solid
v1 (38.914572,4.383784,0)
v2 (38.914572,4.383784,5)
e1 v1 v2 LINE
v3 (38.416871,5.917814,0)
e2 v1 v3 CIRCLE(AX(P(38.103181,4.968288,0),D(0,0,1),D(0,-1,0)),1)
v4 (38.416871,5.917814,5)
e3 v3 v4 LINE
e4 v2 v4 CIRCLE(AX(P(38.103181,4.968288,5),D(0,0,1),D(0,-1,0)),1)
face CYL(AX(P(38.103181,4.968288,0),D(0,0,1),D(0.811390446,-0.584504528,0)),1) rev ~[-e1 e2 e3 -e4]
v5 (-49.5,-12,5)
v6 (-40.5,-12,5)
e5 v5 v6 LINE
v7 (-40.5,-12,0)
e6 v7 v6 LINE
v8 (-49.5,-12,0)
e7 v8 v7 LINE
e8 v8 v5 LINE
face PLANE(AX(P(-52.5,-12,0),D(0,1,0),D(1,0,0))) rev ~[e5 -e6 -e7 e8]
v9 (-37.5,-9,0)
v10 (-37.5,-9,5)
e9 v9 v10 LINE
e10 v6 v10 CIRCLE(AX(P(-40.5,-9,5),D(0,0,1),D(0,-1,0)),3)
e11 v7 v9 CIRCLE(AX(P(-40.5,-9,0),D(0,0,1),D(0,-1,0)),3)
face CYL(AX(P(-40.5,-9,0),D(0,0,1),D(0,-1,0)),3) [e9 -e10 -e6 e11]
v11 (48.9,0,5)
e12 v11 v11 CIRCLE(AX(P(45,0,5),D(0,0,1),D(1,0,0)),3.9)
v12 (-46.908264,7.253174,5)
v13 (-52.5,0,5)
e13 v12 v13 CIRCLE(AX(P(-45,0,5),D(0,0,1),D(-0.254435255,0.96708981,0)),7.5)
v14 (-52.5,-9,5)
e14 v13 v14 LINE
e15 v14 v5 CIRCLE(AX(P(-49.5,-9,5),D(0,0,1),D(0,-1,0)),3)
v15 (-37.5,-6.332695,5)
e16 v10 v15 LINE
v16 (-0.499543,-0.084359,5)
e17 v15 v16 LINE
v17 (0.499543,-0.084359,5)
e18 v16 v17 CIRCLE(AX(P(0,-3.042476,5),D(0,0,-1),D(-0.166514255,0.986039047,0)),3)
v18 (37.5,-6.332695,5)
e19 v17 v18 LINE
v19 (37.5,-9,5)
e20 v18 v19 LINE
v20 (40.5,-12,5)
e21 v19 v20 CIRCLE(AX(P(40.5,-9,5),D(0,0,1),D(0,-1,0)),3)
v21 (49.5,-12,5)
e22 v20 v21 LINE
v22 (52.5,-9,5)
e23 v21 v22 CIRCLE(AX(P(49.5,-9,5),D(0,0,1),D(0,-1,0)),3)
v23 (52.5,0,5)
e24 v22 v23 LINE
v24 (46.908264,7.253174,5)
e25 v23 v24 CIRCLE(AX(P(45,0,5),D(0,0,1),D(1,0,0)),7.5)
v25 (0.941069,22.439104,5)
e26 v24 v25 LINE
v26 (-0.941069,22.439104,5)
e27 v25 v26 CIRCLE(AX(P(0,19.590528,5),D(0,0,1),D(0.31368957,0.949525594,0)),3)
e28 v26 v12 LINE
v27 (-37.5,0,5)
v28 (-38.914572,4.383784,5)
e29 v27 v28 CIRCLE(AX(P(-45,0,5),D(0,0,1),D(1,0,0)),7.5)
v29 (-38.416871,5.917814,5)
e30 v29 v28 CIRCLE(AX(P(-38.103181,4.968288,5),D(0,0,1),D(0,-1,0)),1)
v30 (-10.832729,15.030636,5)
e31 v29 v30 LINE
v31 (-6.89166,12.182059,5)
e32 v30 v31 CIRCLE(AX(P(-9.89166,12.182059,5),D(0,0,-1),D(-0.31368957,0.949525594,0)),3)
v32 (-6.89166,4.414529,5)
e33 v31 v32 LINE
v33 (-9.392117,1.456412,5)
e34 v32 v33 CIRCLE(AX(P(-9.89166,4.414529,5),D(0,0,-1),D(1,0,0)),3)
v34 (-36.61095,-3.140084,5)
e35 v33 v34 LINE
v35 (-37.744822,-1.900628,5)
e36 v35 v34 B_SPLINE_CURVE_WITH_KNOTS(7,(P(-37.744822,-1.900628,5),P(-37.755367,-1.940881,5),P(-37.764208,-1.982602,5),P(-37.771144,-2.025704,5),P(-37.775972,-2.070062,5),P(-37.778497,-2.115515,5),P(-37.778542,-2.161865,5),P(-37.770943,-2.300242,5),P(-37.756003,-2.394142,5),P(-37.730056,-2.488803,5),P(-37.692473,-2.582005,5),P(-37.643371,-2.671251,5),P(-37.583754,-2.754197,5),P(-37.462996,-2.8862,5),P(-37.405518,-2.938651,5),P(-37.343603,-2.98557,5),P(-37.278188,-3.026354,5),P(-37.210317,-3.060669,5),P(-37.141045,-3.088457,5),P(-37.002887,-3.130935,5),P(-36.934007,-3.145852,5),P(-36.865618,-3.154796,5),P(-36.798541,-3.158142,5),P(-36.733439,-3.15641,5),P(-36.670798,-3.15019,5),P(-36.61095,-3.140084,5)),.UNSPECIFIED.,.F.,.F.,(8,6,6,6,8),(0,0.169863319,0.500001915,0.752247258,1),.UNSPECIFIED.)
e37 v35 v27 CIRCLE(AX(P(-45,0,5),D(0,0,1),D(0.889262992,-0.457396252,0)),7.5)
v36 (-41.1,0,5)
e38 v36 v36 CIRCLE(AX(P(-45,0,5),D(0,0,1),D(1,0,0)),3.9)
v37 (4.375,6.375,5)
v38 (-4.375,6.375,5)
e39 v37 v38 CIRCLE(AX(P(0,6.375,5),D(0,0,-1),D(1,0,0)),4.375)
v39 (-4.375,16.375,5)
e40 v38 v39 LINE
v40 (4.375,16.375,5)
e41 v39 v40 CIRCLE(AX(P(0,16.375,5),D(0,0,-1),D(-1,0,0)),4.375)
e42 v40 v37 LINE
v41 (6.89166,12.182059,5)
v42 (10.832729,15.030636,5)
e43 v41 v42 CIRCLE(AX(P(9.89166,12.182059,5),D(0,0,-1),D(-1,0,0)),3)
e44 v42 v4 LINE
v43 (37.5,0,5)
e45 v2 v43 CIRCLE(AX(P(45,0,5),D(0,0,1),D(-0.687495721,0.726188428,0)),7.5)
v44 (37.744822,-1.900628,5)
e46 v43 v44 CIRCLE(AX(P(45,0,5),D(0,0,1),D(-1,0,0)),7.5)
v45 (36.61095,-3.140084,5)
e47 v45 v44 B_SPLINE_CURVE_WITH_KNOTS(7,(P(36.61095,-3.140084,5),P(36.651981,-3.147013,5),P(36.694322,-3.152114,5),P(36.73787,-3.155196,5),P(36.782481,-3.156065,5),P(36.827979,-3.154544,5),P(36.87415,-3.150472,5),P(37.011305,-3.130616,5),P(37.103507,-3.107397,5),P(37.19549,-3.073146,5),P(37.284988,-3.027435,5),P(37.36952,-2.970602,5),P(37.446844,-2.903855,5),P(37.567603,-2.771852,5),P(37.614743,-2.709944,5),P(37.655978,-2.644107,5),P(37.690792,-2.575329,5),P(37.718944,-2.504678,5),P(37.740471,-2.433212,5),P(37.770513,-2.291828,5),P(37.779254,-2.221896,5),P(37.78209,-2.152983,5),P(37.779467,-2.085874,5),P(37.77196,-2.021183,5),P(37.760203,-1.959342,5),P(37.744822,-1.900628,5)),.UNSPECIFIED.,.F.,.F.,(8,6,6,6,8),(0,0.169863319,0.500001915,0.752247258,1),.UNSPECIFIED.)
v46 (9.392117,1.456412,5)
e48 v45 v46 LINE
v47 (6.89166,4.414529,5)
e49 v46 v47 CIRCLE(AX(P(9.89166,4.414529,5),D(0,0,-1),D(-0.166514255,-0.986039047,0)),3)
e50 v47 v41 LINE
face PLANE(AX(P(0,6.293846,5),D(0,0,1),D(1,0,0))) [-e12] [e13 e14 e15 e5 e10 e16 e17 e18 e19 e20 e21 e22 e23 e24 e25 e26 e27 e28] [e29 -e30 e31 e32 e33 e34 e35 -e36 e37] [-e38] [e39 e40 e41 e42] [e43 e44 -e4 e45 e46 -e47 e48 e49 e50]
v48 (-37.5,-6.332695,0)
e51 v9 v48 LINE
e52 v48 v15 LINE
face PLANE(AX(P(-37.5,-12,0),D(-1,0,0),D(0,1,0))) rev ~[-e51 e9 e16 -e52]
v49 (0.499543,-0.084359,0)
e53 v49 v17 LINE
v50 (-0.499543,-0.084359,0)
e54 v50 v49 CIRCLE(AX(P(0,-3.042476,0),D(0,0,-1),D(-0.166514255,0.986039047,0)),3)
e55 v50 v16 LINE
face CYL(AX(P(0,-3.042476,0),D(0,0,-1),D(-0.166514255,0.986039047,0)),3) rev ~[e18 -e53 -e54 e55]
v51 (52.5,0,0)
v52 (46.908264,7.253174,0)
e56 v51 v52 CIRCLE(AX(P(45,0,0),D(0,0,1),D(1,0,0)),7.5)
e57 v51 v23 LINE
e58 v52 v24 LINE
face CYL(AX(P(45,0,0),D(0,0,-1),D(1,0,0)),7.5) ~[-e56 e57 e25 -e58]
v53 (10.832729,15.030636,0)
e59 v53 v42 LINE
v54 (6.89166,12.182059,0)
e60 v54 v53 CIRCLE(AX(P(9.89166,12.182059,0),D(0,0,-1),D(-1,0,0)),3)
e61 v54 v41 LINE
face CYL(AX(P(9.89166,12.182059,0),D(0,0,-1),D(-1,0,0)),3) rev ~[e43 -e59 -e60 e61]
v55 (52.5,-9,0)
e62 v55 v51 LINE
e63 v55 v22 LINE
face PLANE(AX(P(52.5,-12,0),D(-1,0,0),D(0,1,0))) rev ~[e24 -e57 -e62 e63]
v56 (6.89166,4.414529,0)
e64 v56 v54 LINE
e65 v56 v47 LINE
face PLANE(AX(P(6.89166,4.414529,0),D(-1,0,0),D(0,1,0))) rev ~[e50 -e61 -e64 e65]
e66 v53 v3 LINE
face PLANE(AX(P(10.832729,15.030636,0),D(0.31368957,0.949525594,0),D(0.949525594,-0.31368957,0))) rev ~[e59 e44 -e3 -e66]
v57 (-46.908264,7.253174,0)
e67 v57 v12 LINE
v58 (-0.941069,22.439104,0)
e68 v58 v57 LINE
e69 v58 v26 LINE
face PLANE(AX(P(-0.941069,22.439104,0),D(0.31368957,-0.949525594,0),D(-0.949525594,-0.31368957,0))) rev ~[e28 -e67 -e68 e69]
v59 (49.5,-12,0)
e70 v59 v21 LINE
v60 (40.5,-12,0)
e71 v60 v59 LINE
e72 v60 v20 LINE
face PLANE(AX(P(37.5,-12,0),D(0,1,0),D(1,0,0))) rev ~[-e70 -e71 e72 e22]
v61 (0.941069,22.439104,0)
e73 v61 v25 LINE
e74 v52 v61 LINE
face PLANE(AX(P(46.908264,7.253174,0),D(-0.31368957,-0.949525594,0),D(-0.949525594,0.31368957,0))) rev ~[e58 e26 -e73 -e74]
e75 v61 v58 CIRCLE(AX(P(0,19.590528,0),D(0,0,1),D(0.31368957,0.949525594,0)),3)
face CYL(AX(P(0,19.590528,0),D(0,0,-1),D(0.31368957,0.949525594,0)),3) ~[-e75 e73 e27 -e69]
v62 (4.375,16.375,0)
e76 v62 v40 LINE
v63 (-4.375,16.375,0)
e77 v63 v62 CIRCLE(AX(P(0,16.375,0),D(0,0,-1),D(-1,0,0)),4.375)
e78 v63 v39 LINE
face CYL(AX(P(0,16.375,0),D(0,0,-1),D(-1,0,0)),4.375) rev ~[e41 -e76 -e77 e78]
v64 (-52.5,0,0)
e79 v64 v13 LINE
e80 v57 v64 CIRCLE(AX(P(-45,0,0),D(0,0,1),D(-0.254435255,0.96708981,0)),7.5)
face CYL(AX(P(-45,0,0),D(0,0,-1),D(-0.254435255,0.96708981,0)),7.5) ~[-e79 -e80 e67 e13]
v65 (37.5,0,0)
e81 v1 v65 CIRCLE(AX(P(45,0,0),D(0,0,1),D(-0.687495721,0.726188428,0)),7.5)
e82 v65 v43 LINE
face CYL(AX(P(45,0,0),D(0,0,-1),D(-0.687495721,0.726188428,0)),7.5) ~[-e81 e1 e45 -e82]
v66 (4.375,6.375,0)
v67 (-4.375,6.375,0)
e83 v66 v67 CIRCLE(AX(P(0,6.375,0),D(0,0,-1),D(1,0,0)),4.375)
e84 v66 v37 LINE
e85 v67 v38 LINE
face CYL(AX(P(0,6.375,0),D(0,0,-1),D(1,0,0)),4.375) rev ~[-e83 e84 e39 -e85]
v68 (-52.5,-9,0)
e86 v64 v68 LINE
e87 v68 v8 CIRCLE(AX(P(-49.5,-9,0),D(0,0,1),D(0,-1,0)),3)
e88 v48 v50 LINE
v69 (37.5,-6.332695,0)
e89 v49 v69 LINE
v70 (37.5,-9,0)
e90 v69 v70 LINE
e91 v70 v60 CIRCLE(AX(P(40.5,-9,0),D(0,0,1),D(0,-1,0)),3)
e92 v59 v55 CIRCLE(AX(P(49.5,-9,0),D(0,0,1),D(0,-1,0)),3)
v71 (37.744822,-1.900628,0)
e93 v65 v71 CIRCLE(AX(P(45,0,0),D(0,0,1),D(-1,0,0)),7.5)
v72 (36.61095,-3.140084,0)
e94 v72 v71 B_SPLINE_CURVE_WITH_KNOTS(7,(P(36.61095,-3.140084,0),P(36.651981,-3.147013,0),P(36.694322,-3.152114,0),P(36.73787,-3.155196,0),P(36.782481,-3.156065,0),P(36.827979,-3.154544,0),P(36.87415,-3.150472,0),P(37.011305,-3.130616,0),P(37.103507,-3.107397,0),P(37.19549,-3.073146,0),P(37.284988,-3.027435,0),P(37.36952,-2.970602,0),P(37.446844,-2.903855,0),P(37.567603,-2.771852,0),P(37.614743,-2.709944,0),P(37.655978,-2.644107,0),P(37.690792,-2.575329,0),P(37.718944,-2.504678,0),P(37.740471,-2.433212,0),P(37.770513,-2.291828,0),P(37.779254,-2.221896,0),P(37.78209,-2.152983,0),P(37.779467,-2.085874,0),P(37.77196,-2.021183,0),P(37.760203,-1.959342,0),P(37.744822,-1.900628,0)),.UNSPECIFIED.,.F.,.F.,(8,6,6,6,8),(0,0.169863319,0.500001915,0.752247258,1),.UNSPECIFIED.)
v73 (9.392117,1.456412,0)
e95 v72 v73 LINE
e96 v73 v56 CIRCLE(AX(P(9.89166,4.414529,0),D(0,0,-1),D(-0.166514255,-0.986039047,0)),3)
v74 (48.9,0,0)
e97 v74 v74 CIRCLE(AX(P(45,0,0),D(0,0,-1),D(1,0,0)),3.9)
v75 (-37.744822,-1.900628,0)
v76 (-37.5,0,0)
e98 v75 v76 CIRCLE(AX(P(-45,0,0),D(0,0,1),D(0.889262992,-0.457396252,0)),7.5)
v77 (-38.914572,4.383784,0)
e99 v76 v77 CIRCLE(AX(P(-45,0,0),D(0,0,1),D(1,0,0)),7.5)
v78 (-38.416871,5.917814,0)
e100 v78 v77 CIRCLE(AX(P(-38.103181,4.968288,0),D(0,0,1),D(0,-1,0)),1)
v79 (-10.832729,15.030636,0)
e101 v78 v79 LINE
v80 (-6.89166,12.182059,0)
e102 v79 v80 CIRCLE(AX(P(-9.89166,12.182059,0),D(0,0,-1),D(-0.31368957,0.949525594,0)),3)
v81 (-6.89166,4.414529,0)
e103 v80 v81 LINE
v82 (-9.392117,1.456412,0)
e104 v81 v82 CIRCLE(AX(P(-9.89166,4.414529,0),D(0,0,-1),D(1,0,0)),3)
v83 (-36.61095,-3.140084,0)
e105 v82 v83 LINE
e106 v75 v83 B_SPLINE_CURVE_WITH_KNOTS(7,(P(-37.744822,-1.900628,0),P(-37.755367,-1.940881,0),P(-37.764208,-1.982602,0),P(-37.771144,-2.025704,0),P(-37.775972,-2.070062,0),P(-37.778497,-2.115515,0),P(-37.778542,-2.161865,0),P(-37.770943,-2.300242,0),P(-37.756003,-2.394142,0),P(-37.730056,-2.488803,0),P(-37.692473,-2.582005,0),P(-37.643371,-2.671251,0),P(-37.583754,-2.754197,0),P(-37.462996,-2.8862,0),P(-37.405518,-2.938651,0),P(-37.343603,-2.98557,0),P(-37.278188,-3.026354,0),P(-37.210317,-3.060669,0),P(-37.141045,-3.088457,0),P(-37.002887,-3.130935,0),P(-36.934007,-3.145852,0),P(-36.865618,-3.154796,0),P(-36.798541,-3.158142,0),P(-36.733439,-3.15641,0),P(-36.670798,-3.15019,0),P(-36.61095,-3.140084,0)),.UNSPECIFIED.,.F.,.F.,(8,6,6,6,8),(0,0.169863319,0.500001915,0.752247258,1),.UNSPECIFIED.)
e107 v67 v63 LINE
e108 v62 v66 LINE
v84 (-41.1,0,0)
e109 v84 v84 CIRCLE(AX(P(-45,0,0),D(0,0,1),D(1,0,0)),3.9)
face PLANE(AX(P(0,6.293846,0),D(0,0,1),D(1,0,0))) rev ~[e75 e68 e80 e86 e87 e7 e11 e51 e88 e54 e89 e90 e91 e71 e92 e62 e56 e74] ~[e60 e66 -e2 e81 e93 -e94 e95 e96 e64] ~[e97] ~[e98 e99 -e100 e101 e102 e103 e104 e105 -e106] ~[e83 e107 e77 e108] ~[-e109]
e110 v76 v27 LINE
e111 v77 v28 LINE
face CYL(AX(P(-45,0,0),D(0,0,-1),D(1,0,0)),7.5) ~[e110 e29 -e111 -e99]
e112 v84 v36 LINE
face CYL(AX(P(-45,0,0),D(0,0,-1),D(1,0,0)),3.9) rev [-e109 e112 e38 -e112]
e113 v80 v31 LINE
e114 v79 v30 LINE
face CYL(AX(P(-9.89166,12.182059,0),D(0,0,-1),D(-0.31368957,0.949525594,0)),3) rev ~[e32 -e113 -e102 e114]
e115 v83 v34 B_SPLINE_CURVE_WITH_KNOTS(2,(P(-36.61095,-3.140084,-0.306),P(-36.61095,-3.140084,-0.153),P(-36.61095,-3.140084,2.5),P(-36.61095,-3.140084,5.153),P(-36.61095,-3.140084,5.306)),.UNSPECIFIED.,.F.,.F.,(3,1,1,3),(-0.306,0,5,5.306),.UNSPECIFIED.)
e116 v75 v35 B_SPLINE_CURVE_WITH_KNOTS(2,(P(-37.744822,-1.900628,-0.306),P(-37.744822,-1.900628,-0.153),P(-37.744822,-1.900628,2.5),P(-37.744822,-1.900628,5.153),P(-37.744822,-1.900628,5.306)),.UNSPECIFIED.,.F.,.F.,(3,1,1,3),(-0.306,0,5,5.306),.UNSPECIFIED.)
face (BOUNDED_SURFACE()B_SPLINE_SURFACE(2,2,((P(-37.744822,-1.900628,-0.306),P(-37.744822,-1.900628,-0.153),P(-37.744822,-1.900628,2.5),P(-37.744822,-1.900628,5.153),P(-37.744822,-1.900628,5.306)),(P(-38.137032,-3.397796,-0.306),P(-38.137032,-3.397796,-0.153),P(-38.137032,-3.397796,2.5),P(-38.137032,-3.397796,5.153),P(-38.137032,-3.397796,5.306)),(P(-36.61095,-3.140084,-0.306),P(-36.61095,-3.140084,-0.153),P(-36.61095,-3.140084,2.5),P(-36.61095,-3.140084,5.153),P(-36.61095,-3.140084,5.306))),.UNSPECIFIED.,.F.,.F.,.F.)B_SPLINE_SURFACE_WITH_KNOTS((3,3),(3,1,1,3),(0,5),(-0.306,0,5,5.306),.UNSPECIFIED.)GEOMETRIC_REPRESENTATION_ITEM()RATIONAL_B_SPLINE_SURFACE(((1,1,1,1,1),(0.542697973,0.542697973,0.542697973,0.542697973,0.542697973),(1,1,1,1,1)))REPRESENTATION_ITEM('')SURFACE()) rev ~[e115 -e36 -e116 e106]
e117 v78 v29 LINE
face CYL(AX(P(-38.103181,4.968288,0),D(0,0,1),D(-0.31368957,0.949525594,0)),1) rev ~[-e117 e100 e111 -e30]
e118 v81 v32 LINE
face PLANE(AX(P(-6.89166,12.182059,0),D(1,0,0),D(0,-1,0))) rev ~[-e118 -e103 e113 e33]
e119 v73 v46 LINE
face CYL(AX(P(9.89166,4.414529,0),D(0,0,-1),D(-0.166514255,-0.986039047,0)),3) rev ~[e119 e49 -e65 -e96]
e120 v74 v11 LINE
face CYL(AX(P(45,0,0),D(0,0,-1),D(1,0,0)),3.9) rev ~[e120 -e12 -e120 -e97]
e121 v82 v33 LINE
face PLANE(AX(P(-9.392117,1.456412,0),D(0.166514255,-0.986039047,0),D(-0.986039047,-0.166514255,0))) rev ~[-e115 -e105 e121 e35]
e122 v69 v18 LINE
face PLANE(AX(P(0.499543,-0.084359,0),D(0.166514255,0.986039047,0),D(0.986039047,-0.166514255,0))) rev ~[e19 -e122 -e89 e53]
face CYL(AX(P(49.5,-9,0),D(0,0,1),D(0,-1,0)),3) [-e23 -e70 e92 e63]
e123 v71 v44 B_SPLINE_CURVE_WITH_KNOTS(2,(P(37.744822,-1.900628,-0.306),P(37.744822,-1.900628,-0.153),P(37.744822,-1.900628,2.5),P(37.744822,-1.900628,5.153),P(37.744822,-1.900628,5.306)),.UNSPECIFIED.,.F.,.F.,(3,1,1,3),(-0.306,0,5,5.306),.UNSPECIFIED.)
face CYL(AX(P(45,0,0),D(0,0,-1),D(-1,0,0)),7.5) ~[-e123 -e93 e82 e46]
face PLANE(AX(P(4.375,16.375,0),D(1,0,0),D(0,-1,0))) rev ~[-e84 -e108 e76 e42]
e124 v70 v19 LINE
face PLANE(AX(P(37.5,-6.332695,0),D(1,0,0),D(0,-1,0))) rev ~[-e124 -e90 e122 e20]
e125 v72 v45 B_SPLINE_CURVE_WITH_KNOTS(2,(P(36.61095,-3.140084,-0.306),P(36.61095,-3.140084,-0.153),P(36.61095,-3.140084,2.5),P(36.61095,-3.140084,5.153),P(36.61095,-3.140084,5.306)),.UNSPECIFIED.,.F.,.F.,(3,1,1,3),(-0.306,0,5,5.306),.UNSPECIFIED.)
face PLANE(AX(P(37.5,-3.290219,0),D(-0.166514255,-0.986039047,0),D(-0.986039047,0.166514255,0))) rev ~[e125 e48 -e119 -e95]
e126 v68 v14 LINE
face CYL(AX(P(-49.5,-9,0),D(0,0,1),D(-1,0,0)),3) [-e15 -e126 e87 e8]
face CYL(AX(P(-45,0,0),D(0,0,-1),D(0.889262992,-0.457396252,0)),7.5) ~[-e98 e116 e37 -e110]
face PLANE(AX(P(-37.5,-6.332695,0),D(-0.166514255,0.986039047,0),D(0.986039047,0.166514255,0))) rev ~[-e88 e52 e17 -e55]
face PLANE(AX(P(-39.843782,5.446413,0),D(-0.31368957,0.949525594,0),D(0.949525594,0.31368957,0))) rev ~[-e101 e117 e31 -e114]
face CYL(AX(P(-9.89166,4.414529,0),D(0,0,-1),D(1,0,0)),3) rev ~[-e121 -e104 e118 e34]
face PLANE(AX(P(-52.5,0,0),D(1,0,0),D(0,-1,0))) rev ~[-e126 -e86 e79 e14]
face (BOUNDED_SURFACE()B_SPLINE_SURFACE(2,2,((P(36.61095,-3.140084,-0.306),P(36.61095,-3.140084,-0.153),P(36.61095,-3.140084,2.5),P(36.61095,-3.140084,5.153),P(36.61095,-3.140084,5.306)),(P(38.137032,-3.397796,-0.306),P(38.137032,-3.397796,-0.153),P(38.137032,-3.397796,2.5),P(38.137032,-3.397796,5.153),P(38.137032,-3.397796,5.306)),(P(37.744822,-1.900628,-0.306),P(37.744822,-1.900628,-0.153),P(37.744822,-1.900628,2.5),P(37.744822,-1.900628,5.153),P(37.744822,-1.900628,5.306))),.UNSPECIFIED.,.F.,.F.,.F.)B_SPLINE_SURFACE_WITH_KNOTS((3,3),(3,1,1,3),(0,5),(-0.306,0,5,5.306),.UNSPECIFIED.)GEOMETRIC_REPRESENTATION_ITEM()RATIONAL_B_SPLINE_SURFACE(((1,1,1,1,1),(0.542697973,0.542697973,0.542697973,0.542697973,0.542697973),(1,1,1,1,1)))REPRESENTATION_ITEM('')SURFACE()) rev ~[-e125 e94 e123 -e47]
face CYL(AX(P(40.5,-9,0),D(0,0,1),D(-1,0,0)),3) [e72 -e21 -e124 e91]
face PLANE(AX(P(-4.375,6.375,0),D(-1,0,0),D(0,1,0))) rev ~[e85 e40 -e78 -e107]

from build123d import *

# Parameters (mm, degrees)
F0_R     = 3.9
F1_DEPTH = 5
F2_DEPTH = 25
F3_R     = 1
F4_R     = 3


with BuildPart() as f1:
    # F0 (on Top) → F1 (new body)
    with BuildSketch(Plane.XY):
        with BuildLine():
            ThreePointArc((-46.9082644116, 7.2531735768), (-43.1416684259, 7.2661271501), (-39.8437820891, 5.4464132101))
            Line((-39.8437820891, 5.4464132101), (-10.8327285679, 15.0306360845))
            ThreePointArc((-10.8327285679, 15.0306360845), (-8.1342763091, 14.6134381435), (-6.8916598566, 12.1820593029))
            Line((-6.8916598566, 12.1820593029), (-6.8916598566, 4.4145286559))
            ThreePointArc((-6.8916598566, 4.4145286559), (-7.6005216796, 2.4778599043), (-9.3921170923, 1.4564115138))
            Line((-9.3921170923, 1.4564115138), (-37.5, -3.2902191476))
            Line((-37.5, -3.2902191476), (-37.5, -6.332695009))
            Line((-37.5, -6.332695009), (-0.4995427643, -0.0843587192))
            ThreePointArc((-0.4995427643, -0.0843587192), (0, -0.0424758613), (0.4995427643, -0.0843587192))
            Line((0.4995427643, -0.0843587192), (37.5, -6.332695009))
            Line((37.5, -6.332695009), (37.5, -3.2902191476))
            Line((37.5, -3.2902191476), (9.3921170923, 1.4564115138))
            ThreePointArc((9.3921170923, 1.4564115138), (7.6005216796, 2.4778599043), (6.8916598566, 4.4145286559))
            Line((6.8916598566, 4.4145286559), (6.8916598566, 12.1820593029))
            ThreePointArc((6.8916598566, 12.1820593029), (8.1342763091, 14.6134381435), (10.8327285679, 15.0306360845))
            Line((10.8327285679, 15.0306360845), (39.8437820891, 5.4464132101))
            ThreePointArc((39.8437820891, 5.4464132101), (43.1416684259, 7.2661271501), (46.9082644116, 7.2531735768))
            Line((46.9082644116, 7.2531735768), (0.9410687113, 22.4391042836))
            ThreePointArc((0.9410687113, 22.4391042836), (0, 22.590527502), (-0.9410687113, 22.4391042836))
            Line((-0.9410687113, 22.4391042836), (-46.9082644116, 7.2531735768))
        make_face()
        with BuildLine():
            ThreePointArc((-4.375, 16.375), (0, 20.75), (4.375, 16.375))
            Line((4.375, 16.375), (4.375, 6.375))
            ThreePointArc((4.375, 6.375), (0, 2), (-4.375, 6.375))
            Line((-4.375, 6.375), (-4.375, 16.375))
        make_face(mode=Mode.SUBTRACT)
        with BuildLine():
            Line((-37.5, -3.2902191476), (-38.3305275597, -3.4304718872))
            ThreePointArc((-38.3305275597, -3.4304718872), (-40.4438234256, -5.9574537365), (-43.4360893176, -7.3351334942))
            Line((-43.4360893176, -7.3351334942), (-37.5, -6.332695009))
            Line((-37.5, -6.332695009), (-37.5, -3.2902191476))
        make_face()
        with BuildLine():
            ThreePointArc((-38.3305275597, -3.4304718872), (-37.7105883879, -1.7647884715), (-37.5, 0))
            ThreePointArc((-37.5, 0), (-38.110818832, 2.9646556012), (-39.8437820891, 5.4464132101))
            ThreePointArc((-39.8437820891, 5.4464132101), (-43.1416684259, 7.2661271501), (-46.9082644116, 7.2531735768))
            ThreePointArc((-46.9082644116, 7.2531735768), (-50.9397804289, 4.5791929919), (-52.5, 0))
            ThreePointArc((-52.5, 0), (-49.7180859404, -5.8300656136), (-43.4360893176, -7.3351334942))
            ThreePointArc((-43.4360893176, -7.3351334942), (-40.4438234256, -5.9574537365), (-38.3305275597, -3.4304718872))
        make_face()
        with Locations((-45, 0)):
            Circle(F0_R, mode=Mode.SUBTRACT)
        with BuildLine():
            ThreePointArc((52.5, 0), (50.9397804289, 4.5791929919), (46.9082644116, 7.2531735768))
            ThreePointArc((46.9082644116, 7.2531735768), (43.1416684259, 7.2661271501), (39.8437820891, 5.4464132101))
            ThreePointArc((39.8437820891, 5.4464132101), (38.110818832, 2.9646556012), (37.5, 0))
            Line((37.5, 0), (41.1, 0))
            ThreePointArc((41.1, 0), (45, 3.9), (48.9, 0))
            Line((48.9, 0), (52.5, 0))
        make_face()
        with BuildLine():
            ThreePointArc((43.4360893176, -7.3351334942), (49.7180859404, -5.8300656136), (52.5, 0))
            Line((52.5, 0), (48.9, 0))
            ThreePointArc((48.9, 0), (45, -3.9), (41.1, 0))
            Line((41.1, 0), (37.5, 0))
            ThreePointArc((37.5, 0), (37.7105883879, -1.7647884715), (38.3305275597, -3.4304718872))
            ThreePointArc((38.3305275597, -3.4304718872), (40.4438234256, -5.9574537365), (43.4360893176, -7.3351334942))
        make_face()
        with BuildLine():
            Line((37.5, -3.2902191476), (37.5, -6.332695009))
            Line((37.5, -6.332695009), (43.4360893176, -7.3351334942))
            ThreePointArc((43.4360893176, -7.3351334942), (40.4438234256, -5.9574537365), (38.3305275597, -3.4304718872))
            Line((38.3305275597, -3.4304718872), (37.5, -3.2902191476))
        make_face()
        with BuildLine():
            Line((43.4360893176, -7.3351334942), (37.5, -6.332695009))
            Line((37.5, -6.332695009), (37.5, -12))
            Line((37.5, -12), (52.5, -12))
            Line((52.5, -12), (52.5, 0))
            ThreePointArc((52.5, 0), (49.7180859404, -5.8300656136), (43.4360893176, -7.3351334942))
        make_face()
        with BuildLine():
            Line((-37.5, -6.332695009), (-43.4360893176, -7.3351334942))
            ThreePointArc((-43.4360893176, -7.3351334942), (-49.7180859404, -5.8300656136), (-52.5, 0))
            Line((-52.5, 0), (-52.5, -12))
            Line((-52.5, -12), (-37.5, -12))
            Line((-37.5, -12), (-37.5, -6.332695009))
        make_face()
    extrude(amount=F1_DEPTH)

    # F0 (on Top) → F2 (cut)
    with BuildSketch(Plane.XY):
        with Locations((-45, 0)):
            Circle(F0_R)
        with BuildLine():
            Line((41.1, 0), (48.9, 0))
            ThreePointArc((48.9, 0), (45, 3.9), (41.1, 0))
        make_face()
        with BuildLine():
            ThreePointArc((41.1, 0), (45, -3.9), (48.9, 0))
            Line((48.9, 0), (41.1, 0))
        make_face()
    extrude(amount=F2_DEPTH, mode=Mode.SUBTRACT)

    # F3
    f3_edges = [f1.edges().sort_by_distance(p)[0] for p in [
        (-39.843782, 5.446413, 2.5),
        (-38.330528, -3.430472, 2.5),
        (39.843782, 5.446413, 2.5),
        (38.330528, -3.430472, 2.5),
    ]]
    fillet(f3_edges, radius=F3_R)

    # F4
    f4_edges = [f1.edges().sort_by_distance(p)[0] for p in [
        (-52.5, -12, 2.5),
        (-37.5, -12, 2.5),
        (37.5, -12, 2.5),
        (52.5, -12, 2.5),
    ]]
    fillet(f4_edges, radius=F4_R)


solid = f1.part
